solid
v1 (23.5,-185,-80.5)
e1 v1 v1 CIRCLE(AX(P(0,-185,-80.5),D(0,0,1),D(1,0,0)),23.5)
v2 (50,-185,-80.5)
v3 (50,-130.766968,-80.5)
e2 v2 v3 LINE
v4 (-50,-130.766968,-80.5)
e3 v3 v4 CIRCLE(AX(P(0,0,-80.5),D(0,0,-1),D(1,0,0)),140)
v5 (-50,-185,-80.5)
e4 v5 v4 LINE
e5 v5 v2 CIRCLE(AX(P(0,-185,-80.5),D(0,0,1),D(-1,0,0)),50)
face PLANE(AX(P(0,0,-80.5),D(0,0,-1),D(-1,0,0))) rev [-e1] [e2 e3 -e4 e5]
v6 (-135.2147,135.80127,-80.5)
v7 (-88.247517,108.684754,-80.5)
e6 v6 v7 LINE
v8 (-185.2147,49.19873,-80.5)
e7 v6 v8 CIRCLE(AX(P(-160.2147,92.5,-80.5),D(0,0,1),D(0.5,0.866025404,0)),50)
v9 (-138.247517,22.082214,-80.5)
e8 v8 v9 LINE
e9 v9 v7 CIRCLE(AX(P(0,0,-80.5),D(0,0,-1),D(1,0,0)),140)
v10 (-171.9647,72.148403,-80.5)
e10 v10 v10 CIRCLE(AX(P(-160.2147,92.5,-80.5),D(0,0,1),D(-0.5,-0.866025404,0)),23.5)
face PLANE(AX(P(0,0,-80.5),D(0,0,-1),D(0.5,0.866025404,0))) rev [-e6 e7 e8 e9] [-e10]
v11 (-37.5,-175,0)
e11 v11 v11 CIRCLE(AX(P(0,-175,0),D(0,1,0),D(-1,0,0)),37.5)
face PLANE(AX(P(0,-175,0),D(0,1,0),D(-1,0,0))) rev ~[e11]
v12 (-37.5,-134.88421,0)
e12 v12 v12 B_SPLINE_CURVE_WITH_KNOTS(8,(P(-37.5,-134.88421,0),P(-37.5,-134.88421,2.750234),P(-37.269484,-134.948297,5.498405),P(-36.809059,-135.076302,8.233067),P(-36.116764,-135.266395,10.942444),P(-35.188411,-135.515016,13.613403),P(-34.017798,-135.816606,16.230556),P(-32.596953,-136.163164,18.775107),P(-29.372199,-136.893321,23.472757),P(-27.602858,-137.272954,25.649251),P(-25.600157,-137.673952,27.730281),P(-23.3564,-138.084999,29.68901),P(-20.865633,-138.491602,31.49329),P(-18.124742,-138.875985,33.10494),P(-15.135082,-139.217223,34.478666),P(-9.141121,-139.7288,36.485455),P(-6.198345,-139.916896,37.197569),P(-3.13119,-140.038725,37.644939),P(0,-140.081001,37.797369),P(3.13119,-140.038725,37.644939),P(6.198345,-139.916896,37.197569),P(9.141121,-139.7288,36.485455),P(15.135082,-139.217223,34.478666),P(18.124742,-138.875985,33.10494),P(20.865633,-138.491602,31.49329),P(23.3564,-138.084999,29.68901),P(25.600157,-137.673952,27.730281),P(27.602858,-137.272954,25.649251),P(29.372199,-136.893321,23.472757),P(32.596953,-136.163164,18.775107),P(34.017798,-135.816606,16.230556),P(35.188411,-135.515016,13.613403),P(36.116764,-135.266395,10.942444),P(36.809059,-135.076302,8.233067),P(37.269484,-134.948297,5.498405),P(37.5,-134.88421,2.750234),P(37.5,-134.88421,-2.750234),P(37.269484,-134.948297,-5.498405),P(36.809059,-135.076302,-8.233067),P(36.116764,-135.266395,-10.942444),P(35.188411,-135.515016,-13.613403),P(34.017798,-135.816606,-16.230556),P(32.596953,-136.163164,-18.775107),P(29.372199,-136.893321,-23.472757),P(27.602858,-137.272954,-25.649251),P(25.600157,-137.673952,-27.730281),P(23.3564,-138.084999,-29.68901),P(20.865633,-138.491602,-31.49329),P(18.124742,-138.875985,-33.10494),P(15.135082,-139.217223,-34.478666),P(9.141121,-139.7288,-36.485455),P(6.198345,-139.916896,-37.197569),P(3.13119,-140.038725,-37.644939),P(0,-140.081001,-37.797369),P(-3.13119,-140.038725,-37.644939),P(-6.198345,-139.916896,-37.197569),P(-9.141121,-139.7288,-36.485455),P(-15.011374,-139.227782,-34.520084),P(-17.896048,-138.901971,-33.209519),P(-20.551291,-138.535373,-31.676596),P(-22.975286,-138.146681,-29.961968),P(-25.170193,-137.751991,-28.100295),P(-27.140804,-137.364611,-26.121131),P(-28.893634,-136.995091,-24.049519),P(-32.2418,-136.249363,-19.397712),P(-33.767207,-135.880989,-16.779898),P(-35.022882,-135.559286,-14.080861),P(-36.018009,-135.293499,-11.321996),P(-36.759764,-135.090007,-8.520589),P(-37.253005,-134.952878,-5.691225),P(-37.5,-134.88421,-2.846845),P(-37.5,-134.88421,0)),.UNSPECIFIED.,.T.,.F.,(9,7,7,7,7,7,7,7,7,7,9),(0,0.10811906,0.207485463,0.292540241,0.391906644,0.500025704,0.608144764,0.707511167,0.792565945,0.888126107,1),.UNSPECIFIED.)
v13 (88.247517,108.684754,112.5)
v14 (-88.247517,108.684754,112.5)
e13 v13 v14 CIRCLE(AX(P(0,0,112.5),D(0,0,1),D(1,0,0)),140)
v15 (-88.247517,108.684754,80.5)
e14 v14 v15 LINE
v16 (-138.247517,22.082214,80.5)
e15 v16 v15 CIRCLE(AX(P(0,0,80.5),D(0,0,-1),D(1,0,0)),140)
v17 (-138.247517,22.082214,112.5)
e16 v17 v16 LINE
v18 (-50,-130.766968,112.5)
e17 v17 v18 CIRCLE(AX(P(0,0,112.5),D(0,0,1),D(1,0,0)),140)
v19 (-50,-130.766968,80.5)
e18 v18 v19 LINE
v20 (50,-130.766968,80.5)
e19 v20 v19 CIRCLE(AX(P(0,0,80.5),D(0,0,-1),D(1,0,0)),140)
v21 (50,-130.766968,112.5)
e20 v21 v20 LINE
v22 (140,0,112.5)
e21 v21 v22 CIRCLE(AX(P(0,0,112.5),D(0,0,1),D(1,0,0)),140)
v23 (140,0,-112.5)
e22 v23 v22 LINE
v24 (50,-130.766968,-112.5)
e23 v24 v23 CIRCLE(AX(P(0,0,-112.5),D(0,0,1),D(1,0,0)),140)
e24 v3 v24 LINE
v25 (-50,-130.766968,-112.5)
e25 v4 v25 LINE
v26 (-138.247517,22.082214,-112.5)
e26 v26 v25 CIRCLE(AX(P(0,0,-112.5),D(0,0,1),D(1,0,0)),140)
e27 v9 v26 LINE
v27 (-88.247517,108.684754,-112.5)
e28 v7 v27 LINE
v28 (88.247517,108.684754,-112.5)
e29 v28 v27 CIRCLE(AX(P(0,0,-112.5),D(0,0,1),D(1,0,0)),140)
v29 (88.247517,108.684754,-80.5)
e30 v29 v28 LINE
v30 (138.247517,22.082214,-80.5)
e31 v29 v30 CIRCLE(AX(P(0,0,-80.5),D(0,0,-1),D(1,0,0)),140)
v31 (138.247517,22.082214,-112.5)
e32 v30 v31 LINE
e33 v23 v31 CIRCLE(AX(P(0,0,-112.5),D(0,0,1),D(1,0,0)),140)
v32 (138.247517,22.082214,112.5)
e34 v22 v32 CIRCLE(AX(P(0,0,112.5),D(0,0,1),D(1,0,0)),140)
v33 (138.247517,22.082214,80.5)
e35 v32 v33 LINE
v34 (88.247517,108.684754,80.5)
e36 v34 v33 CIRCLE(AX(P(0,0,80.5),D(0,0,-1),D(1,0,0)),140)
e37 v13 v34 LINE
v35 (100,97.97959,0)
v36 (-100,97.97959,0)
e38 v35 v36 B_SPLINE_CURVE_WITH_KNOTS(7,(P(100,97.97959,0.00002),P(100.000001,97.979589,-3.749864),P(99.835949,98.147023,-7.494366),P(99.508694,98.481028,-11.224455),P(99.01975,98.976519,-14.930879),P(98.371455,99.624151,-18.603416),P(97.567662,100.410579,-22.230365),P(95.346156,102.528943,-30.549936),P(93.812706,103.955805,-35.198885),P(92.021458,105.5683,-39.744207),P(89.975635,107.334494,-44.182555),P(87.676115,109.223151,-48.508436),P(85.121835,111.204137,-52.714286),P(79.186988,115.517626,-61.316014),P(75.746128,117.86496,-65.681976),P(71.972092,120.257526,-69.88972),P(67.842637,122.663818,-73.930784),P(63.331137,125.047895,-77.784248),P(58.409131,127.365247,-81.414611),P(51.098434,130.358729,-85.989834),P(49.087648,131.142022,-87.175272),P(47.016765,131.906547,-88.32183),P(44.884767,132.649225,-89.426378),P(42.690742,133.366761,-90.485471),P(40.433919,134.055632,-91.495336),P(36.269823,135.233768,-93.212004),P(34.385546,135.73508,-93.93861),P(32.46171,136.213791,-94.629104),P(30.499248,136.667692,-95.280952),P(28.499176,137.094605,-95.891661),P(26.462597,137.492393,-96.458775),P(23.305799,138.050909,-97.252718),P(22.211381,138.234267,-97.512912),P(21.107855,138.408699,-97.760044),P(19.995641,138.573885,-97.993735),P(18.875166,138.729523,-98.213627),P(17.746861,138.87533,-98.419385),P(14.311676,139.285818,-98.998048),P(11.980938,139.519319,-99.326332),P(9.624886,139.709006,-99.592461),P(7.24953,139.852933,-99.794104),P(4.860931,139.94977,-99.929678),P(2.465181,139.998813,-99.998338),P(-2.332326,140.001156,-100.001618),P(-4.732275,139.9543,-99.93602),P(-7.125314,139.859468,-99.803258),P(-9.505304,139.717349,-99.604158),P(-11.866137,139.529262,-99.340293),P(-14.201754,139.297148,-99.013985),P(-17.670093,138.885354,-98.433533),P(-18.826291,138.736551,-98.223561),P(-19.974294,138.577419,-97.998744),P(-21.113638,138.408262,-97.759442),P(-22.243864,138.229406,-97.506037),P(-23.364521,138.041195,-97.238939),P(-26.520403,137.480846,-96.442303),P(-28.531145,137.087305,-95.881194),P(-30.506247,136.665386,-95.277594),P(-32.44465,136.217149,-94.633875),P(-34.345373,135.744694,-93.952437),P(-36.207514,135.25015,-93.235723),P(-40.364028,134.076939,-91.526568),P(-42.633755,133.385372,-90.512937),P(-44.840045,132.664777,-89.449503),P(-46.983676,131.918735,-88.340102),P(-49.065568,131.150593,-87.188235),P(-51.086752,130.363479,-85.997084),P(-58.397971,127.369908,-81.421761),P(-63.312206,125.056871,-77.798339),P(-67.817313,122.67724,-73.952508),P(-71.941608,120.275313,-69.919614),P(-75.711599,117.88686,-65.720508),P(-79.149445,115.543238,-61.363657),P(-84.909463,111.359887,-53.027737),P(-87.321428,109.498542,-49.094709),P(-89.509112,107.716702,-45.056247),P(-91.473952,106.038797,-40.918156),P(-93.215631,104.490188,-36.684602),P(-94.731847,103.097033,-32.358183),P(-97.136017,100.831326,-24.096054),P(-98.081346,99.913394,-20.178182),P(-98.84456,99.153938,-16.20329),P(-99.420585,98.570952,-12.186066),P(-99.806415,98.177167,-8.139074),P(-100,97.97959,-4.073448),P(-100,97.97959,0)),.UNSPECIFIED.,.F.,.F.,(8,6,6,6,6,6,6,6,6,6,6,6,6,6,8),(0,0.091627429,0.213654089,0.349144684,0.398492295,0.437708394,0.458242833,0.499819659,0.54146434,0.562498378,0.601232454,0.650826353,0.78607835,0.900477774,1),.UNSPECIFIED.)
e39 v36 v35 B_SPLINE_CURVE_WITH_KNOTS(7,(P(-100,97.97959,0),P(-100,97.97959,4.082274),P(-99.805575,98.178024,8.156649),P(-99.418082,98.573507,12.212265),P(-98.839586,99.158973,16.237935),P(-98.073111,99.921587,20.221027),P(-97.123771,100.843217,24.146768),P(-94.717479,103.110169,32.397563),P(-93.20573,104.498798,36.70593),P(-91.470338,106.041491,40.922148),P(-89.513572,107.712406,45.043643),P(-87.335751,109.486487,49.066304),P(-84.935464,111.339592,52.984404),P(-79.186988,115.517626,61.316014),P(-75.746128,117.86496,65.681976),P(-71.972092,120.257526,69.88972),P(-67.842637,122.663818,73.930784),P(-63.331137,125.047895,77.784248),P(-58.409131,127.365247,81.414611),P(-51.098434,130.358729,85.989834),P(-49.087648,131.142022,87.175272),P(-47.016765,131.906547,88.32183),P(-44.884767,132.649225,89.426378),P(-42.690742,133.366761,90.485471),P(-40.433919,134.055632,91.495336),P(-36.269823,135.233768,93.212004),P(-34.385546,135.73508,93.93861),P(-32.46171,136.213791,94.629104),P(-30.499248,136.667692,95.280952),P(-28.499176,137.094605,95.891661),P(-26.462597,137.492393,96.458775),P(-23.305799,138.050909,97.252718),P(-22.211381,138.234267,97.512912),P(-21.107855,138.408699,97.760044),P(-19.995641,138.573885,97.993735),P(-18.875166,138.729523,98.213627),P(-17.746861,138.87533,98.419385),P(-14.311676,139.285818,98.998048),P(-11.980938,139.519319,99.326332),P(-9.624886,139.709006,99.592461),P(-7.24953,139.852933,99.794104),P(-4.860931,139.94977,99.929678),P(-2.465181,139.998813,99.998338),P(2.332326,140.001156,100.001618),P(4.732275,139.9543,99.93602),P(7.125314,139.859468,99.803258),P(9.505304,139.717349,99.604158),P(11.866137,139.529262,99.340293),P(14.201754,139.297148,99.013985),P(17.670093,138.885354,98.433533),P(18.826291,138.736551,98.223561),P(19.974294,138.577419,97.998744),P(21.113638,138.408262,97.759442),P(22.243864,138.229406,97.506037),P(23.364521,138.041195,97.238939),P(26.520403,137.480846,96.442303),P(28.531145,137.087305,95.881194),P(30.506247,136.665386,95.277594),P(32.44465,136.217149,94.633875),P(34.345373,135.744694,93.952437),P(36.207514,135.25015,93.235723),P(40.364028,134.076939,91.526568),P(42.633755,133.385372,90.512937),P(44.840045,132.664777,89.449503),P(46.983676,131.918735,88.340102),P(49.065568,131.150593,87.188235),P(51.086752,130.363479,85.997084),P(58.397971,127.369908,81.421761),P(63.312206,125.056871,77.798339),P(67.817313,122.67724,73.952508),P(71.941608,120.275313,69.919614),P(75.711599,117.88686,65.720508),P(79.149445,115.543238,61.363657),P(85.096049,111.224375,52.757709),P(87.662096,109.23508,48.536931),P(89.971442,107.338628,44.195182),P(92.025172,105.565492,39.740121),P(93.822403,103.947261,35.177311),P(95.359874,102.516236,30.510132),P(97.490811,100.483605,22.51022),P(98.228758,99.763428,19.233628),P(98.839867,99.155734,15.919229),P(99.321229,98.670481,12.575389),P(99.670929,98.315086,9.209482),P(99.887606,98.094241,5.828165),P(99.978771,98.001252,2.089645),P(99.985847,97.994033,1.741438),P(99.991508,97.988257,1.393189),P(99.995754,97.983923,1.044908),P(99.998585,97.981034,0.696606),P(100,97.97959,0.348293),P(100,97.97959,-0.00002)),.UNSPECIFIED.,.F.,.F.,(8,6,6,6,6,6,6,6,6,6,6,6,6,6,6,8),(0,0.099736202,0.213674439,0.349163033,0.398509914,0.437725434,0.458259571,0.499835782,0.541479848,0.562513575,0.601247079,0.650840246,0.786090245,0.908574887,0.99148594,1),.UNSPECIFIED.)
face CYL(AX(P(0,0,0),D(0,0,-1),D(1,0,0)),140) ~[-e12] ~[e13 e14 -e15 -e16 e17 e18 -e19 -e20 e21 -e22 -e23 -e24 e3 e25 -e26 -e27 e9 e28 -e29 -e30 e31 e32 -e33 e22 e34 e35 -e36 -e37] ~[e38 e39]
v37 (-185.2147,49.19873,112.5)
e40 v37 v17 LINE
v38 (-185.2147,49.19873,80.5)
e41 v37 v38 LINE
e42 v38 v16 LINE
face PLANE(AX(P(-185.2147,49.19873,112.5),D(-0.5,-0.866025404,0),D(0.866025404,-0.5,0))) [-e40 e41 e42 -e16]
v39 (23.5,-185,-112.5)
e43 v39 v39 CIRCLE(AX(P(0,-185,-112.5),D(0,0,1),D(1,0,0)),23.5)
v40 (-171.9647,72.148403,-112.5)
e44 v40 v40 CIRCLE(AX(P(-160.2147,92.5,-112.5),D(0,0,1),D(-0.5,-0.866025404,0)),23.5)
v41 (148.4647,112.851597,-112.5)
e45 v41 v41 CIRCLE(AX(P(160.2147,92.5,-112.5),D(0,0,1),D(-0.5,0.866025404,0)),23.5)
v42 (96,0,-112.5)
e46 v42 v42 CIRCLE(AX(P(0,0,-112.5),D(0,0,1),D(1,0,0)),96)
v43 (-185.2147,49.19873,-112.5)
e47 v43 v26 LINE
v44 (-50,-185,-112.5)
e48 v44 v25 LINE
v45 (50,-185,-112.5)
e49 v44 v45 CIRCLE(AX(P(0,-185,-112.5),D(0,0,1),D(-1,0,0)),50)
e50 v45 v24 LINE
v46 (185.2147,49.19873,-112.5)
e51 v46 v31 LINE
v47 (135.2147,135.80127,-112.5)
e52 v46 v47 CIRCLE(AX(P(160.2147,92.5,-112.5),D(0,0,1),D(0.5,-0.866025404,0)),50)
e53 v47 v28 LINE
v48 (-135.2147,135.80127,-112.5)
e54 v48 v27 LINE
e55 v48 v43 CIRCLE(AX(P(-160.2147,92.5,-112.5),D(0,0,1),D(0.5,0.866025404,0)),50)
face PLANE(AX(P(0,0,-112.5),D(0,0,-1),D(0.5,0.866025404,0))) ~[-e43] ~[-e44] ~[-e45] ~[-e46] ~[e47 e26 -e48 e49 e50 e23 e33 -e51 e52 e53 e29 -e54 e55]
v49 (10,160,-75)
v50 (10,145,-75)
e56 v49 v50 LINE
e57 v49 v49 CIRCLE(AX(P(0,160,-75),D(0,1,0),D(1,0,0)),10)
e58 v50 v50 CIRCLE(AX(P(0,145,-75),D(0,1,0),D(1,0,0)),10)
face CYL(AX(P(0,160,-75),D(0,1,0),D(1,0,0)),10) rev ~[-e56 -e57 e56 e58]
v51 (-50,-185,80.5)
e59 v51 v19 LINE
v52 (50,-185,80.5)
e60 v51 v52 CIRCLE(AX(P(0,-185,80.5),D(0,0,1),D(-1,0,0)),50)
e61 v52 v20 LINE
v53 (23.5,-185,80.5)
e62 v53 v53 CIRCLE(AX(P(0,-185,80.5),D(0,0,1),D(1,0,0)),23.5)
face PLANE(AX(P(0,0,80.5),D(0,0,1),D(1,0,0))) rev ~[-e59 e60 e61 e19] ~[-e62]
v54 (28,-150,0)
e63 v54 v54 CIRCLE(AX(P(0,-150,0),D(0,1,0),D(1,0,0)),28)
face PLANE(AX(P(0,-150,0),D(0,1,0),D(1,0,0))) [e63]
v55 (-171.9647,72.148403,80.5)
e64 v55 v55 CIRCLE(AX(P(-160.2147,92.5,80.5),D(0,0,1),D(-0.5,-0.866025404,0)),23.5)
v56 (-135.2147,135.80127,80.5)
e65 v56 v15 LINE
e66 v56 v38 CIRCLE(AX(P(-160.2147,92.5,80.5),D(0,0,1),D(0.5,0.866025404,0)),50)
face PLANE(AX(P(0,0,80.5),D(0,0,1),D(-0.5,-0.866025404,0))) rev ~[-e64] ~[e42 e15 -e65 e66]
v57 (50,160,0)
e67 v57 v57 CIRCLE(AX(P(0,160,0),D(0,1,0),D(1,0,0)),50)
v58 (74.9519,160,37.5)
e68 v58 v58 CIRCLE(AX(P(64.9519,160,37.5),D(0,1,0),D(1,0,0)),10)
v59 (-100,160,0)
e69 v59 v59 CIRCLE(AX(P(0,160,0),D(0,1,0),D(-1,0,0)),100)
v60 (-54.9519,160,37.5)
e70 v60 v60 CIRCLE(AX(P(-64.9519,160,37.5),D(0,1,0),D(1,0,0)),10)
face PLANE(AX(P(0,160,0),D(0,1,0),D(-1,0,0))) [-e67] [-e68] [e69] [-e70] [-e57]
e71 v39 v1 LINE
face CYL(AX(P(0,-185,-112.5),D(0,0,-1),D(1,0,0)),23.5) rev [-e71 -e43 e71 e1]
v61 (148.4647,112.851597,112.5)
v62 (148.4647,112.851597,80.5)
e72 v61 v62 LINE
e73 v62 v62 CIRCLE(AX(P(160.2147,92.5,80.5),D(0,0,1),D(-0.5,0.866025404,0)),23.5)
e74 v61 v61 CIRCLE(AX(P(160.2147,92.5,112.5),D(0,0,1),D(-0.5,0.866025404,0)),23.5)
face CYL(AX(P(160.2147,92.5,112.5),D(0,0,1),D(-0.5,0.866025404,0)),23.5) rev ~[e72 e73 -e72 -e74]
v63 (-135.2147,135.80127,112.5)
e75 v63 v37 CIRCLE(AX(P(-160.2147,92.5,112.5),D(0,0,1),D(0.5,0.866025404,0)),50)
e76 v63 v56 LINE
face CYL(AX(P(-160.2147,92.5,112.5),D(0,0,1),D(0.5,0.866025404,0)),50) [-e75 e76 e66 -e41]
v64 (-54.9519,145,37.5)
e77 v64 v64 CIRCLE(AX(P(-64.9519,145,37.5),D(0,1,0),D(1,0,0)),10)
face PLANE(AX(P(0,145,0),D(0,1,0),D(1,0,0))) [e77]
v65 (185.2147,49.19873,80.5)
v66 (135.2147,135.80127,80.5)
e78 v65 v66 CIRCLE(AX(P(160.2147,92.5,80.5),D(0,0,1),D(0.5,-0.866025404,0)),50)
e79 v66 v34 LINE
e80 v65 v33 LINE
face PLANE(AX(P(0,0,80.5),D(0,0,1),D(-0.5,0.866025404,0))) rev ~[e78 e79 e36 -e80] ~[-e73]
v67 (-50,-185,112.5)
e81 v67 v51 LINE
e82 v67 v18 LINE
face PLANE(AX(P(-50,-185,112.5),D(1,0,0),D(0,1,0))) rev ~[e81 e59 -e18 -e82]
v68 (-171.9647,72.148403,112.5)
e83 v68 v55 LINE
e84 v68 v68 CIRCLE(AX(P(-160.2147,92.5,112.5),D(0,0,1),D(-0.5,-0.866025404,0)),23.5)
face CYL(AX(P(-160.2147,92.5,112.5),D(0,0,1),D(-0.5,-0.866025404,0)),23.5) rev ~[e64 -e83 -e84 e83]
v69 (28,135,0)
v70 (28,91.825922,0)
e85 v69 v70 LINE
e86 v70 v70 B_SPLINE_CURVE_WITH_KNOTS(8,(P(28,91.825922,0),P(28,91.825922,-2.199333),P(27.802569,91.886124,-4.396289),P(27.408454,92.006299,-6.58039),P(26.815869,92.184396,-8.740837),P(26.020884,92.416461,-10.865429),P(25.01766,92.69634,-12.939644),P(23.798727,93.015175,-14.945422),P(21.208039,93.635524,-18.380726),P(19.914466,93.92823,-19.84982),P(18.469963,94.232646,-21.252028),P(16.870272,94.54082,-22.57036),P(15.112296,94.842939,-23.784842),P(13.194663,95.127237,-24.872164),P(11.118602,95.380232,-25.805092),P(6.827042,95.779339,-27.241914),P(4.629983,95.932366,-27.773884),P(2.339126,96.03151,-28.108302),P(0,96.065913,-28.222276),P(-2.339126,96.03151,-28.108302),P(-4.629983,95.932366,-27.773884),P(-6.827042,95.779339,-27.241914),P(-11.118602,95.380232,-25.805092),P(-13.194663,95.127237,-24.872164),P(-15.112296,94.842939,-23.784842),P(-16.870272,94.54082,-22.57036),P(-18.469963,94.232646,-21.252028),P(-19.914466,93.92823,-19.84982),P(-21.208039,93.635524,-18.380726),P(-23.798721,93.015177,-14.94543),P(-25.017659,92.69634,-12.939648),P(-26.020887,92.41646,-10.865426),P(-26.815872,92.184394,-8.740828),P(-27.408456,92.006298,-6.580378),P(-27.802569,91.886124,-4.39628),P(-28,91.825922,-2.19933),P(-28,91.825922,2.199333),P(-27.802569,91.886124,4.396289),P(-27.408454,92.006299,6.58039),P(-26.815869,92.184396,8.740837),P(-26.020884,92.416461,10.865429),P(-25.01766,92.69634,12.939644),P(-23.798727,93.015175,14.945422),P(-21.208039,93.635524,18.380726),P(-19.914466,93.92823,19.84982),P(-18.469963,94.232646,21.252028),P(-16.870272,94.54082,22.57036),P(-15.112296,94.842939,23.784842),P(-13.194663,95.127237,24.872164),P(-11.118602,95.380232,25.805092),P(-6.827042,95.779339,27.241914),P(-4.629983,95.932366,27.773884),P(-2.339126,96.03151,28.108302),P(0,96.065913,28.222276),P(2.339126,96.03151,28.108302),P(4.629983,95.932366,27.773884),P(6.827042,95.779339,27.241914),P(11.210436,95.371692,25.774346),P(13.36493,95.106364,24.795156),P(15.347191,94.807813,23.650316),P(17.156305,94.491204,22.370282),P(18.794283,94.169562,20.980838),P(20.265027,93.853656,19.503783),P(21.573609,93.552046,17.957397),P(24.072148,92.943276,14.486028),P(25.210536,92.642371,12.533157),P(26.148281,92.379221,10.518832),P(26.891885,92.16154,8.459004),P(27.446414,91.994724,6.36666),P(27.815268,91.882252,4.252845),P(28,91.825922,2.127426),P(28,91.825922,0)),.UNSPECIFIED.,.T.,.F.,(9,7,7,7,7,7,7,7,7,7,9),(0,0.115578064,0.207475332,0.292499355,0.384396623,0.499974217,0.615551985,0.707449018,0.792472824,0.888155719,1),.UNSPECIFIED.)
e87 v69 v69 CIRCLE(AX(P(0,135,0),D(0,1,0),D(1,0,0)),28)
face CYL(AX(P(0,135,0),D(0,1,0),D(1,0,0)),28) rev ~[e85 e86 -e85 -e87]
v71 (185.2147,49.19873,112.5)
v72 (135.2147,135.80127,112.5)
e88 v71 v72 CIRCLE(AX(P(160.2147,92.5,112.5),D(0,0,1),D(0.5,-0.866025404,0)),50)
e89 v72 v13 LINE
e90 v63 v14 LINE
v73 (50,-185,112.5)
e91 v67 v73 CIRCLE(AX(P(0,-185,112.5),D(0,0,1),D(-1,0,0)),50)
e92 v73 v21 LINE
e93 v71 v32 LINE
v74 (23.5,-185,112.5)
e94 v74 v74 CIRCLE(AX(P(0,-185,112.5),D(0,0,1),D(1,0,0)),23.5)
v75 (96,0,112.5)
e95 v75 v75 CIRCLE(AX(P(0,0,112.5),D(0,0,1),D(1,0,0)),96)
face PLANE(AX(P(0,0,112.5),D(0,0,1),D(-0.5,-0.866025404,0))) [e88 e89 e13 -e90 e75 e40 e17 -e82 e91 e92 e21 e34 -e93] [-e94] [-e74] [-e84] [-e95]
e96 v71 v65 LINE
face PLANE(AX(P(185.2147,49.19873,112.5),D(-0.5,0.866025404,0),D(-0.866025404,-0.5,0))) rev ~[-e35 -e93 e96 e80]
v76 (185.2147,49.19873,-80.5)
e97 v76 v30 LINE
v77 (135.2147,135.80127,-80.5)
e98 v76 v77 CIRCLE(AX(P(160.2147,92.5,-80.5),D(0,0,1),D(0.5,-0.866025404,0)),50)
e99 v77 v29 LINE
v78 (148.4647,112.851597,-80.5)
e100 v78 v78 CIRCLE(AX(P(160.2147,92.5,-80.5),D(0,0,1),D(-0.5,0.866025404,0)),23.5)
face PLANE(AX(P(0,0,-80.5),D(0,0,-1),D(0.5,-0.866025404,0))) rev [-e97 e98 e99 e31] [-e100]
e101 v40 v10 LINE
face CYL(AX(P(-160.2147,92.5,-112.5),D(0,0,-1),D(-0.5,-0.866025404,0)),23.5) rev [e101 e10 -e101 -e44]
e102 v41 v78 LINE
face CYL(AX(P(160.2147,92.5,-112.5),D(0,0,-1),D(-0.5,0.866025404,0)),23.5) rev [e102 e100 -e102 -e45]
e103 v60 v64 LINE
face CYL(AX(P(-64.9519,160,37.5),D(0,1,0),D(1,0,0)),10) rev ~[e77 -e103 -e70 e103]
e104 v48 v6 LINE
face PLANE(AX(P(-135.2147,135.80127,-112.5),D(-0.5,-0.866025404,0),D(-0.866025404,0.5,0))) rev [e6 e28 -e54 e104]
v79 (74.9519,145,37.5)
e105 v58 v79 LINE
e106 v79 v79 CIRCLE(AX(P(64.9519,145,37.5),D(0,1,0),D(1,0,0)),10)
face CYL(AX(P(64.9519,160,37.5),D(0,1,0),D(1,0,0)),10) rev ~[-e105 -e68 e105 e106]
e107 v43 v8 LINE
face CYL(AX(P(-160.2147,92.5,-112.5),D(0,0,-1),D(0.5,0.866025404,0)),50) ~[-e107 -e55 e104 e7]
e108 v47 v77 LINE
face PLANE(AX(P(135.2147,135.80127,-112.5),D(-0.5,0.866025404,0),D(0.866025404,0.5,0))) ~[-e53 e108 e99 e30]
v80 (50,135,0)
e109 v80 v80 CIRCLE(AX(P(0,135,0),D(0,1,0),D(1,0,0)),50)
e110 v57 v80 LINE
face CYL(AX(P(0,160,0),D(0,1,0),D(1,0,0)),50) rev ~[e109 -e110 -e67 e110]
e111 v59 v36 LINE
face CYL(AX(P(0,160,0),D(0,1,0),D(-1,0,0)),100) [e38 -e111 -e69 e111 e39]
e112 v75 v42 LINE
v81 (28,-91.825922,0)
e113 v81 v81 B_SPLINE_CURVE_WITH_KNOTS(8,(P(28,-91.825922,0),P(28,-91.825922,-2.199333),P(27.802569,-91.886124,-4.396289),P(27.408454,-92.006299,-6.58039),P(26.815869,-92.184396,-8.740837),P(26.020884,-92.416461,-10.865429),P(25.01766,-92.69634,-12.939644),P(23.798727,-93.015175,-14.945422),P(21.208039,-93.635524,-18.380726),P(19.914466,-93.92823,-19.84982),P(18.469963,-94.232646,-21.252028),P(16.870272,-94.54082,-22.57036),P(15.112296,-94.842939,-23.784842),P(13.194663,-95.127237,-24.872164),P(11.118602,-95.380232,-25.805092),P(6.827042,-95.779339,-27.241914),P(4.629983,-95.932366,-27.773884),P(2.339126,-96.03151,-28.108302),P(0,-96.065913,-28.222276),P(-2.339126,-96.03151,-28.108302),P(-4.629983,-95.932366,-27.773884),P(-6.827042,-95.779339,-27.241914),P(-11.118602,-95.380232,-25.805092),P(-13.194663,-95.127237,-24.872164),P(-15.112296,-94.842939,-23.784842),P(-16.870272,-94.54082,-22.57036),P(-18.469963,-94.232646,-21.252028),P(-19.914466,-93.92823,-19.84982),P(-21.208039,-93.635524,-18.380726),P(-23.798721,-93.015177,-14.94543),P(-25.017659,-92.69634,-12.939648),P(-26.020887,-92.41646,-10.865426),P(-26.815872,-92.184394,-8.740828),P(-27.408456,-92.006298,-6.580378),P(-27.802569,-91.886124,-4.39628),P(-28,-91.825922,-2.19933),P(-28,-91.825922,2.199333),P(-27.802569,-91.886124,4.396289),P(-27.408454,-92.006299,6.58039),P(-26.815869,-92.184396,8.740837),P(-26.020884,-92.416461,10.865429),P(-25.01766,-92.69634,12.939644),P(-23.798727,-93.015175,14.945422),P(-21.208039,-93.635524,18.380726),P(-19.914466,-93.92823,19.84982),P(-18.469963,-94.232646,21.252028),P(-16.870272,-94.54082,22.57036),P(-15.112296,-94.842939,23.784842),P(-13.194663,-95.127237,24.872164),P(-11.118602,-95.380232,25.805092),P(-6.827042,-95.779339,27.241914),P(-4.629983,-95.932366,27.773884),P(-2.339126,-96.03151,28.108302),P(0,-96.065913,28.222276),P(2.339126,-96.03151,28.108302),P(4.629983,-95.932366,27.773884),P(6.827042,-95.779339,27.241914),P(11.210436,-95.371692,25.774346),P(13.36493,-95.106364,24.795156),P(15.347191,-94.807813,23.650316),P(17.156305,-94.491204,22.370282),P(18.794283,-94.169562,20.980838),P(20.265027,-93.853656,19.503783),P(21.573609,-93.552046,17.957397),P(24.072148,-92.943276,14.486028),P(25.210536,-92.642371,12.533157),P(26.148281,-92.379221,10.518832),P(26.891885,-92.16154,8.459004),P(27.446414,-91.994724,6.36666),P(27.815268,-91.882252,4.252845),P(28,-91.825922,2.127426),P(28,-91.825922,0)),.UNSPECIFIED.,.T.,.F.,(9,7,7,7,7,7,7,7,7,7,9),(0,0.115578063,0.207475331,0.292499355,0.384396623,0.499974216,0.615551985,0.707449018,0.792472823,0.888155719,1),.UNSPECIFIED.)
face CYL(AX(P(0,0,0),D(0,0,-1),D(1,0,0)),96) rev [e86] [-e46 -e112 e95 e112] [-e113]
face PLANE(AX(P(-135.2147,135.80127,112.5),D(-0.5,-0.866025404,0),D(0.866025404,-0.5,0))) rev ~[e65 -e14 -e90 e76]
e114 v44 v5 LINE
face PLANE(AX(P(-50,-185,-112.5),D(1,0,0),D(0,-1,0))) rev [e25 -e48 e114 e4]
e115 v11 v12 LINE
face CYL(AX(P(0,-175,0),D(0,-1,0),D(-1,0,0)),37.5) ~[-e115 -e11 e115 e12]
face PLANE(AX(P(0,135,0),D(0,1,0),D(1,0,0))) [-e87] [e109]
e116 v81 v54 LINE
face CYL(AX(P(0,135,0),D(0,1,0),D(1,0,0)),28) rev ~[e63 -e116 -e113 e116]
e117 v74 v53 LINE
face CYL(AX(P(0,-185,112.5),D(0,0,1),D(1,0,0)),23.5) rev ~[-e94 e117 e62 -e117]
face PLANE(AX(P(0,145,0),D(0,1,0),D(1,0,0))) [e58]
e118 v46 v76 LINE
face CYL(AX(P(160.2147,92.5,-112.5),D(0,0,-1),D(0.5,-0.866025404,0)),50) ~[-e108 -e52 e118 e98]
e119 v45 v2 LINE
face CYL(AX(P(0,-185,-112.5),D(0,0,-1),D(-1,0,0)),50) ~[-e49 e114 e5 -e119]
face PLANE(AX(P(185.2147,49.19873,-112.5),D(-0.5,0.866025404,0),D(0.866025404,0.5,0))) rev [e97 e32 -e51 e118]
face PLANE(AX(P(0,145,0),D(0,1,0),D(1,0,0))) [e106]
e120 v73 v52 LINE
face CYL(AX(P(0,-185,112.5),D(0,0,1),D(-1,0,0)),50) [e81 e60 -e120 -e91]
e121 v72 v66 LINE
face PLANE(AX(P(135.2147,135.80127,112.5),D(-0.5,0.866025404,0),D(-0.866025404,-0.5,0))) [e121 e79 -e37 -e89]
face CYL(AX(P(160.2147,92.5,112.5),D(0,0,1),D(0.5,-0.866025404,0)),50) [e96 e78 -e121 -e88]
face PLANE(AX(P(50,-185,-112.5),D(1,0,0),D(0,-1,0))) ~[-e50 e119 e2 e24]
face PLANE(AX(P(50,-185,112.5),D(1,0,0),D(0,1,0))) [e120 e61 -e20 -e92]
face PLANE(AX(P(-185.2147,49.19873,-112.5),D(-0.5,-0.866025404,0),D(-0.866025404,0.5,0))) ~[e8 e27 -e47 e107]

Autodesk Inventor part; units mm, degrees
ref_plane "YZ Plane" through (0, 0, 0) normal (1, 0, 0) x (0, 1, 0)
sketch "Esboço1" plane through (0, 0, 0) normal (0, 0, 1) x (1, 0, 0)
  circle A0 centre (0, 0) radius 140
  circle A1 centre (0, 0) radius 96
  dimension "d0" = 280
  dimension "d1" = 192
extrude "Extrusão1" add sketch "Esboço1" along normal mid plane 225
ref_plane "Plano de trabalho1" through (0, 160, 0) normal (0, 1, 0) x (-1, 0, 0)
sketch "Esboço2" plane through (0, 160, 0) normal (0, 1, 0) x (-1, 0, 0)
  circle A0 centre (0, 0) radius 100
  dimension "d5" = 200
extrude "Extrusão2" add sketch "Esboço2" against normal up to next
ref_plane "Plano de trabalho2" through (0, -175, 0) normal (0, 1, 0) x (-1, 0, 0)
sketch "Esboço3" plane through (0, -175, 0) normal (0, 1, 0) x (-1, 0, 0)
  circle A0 centre (0, 0) radius 37.5
  dimension "d9" = 75
extrude "Extrusão3" add sketch "Esboço3" along normal up to next
sketch "Esboço4" plane through (0, 160, 0) normal (0, 1, 0) x (1, 0, 0)
  circle A0 centre (0, 0) radius 50
  dimension "d12" = 100
extrude "Extrusão4" cut sketch "Esboço4" against normal blind 25
sketch "Esboço5" plane through (0, 135, 0) normal (0, 1, 0) x (1, 0, 0)
  circle A0 centre (0, 0) radius 28
  dimension "d15" = 56
extrude "Extrusão5" cut sketch "Esboço5" against normal blind 285
sketch "Esboço6" plane through (0, 160, 0) normal (0, 1, 0) x (1, 0, 0)
  circle A0 centre (0, 75) radius 10
  circle A1 centre (-64.9519, -37.5) radius 10
  circle A2 centre (64.9519, -37.5) radius 10
  point P0 (0, 0)
  dimension "d18" = 20
  dimension "d19" = 75
  dimension "d22" = 360
extrude "Extrusão6" cut sketch "Esboço6" against normal blind 15
sketch "Esboço7" plane through (0, 0, 112.5) normal (0, 0, 1) x (1, 0, 0)
  arc A0 (-50, -185) -> (50, -185) centre (0, -185) ccw
  circle A1 centre (0, -185) radius 23.5
  line L0 (50, -185) -> (50, -106.8082)
  line L1 (-50, -185) -> (-50, -106.8082)
  line L2 (50, -106.8082) -> (-50, -106.8082)
  point P0 (0, 0)
  dimension "d26" = 100
  dimension "d27" = 47
  dimension "d28" = 185
extrude "Extrusão7" add sketch "Esboço7" against normal blind 32
pattern_circular "Padrão circular1" count 3 over 360 about axis through (0, 0, 0) along (0, 0, 1) of "Extrusão7"
mirror "Espelhamento1" about plane through (0, 0, 0) normal (0, 0, 1) of "Extrusão7", "Padrão circular1"
properties part number "Corpo da Valvula"
